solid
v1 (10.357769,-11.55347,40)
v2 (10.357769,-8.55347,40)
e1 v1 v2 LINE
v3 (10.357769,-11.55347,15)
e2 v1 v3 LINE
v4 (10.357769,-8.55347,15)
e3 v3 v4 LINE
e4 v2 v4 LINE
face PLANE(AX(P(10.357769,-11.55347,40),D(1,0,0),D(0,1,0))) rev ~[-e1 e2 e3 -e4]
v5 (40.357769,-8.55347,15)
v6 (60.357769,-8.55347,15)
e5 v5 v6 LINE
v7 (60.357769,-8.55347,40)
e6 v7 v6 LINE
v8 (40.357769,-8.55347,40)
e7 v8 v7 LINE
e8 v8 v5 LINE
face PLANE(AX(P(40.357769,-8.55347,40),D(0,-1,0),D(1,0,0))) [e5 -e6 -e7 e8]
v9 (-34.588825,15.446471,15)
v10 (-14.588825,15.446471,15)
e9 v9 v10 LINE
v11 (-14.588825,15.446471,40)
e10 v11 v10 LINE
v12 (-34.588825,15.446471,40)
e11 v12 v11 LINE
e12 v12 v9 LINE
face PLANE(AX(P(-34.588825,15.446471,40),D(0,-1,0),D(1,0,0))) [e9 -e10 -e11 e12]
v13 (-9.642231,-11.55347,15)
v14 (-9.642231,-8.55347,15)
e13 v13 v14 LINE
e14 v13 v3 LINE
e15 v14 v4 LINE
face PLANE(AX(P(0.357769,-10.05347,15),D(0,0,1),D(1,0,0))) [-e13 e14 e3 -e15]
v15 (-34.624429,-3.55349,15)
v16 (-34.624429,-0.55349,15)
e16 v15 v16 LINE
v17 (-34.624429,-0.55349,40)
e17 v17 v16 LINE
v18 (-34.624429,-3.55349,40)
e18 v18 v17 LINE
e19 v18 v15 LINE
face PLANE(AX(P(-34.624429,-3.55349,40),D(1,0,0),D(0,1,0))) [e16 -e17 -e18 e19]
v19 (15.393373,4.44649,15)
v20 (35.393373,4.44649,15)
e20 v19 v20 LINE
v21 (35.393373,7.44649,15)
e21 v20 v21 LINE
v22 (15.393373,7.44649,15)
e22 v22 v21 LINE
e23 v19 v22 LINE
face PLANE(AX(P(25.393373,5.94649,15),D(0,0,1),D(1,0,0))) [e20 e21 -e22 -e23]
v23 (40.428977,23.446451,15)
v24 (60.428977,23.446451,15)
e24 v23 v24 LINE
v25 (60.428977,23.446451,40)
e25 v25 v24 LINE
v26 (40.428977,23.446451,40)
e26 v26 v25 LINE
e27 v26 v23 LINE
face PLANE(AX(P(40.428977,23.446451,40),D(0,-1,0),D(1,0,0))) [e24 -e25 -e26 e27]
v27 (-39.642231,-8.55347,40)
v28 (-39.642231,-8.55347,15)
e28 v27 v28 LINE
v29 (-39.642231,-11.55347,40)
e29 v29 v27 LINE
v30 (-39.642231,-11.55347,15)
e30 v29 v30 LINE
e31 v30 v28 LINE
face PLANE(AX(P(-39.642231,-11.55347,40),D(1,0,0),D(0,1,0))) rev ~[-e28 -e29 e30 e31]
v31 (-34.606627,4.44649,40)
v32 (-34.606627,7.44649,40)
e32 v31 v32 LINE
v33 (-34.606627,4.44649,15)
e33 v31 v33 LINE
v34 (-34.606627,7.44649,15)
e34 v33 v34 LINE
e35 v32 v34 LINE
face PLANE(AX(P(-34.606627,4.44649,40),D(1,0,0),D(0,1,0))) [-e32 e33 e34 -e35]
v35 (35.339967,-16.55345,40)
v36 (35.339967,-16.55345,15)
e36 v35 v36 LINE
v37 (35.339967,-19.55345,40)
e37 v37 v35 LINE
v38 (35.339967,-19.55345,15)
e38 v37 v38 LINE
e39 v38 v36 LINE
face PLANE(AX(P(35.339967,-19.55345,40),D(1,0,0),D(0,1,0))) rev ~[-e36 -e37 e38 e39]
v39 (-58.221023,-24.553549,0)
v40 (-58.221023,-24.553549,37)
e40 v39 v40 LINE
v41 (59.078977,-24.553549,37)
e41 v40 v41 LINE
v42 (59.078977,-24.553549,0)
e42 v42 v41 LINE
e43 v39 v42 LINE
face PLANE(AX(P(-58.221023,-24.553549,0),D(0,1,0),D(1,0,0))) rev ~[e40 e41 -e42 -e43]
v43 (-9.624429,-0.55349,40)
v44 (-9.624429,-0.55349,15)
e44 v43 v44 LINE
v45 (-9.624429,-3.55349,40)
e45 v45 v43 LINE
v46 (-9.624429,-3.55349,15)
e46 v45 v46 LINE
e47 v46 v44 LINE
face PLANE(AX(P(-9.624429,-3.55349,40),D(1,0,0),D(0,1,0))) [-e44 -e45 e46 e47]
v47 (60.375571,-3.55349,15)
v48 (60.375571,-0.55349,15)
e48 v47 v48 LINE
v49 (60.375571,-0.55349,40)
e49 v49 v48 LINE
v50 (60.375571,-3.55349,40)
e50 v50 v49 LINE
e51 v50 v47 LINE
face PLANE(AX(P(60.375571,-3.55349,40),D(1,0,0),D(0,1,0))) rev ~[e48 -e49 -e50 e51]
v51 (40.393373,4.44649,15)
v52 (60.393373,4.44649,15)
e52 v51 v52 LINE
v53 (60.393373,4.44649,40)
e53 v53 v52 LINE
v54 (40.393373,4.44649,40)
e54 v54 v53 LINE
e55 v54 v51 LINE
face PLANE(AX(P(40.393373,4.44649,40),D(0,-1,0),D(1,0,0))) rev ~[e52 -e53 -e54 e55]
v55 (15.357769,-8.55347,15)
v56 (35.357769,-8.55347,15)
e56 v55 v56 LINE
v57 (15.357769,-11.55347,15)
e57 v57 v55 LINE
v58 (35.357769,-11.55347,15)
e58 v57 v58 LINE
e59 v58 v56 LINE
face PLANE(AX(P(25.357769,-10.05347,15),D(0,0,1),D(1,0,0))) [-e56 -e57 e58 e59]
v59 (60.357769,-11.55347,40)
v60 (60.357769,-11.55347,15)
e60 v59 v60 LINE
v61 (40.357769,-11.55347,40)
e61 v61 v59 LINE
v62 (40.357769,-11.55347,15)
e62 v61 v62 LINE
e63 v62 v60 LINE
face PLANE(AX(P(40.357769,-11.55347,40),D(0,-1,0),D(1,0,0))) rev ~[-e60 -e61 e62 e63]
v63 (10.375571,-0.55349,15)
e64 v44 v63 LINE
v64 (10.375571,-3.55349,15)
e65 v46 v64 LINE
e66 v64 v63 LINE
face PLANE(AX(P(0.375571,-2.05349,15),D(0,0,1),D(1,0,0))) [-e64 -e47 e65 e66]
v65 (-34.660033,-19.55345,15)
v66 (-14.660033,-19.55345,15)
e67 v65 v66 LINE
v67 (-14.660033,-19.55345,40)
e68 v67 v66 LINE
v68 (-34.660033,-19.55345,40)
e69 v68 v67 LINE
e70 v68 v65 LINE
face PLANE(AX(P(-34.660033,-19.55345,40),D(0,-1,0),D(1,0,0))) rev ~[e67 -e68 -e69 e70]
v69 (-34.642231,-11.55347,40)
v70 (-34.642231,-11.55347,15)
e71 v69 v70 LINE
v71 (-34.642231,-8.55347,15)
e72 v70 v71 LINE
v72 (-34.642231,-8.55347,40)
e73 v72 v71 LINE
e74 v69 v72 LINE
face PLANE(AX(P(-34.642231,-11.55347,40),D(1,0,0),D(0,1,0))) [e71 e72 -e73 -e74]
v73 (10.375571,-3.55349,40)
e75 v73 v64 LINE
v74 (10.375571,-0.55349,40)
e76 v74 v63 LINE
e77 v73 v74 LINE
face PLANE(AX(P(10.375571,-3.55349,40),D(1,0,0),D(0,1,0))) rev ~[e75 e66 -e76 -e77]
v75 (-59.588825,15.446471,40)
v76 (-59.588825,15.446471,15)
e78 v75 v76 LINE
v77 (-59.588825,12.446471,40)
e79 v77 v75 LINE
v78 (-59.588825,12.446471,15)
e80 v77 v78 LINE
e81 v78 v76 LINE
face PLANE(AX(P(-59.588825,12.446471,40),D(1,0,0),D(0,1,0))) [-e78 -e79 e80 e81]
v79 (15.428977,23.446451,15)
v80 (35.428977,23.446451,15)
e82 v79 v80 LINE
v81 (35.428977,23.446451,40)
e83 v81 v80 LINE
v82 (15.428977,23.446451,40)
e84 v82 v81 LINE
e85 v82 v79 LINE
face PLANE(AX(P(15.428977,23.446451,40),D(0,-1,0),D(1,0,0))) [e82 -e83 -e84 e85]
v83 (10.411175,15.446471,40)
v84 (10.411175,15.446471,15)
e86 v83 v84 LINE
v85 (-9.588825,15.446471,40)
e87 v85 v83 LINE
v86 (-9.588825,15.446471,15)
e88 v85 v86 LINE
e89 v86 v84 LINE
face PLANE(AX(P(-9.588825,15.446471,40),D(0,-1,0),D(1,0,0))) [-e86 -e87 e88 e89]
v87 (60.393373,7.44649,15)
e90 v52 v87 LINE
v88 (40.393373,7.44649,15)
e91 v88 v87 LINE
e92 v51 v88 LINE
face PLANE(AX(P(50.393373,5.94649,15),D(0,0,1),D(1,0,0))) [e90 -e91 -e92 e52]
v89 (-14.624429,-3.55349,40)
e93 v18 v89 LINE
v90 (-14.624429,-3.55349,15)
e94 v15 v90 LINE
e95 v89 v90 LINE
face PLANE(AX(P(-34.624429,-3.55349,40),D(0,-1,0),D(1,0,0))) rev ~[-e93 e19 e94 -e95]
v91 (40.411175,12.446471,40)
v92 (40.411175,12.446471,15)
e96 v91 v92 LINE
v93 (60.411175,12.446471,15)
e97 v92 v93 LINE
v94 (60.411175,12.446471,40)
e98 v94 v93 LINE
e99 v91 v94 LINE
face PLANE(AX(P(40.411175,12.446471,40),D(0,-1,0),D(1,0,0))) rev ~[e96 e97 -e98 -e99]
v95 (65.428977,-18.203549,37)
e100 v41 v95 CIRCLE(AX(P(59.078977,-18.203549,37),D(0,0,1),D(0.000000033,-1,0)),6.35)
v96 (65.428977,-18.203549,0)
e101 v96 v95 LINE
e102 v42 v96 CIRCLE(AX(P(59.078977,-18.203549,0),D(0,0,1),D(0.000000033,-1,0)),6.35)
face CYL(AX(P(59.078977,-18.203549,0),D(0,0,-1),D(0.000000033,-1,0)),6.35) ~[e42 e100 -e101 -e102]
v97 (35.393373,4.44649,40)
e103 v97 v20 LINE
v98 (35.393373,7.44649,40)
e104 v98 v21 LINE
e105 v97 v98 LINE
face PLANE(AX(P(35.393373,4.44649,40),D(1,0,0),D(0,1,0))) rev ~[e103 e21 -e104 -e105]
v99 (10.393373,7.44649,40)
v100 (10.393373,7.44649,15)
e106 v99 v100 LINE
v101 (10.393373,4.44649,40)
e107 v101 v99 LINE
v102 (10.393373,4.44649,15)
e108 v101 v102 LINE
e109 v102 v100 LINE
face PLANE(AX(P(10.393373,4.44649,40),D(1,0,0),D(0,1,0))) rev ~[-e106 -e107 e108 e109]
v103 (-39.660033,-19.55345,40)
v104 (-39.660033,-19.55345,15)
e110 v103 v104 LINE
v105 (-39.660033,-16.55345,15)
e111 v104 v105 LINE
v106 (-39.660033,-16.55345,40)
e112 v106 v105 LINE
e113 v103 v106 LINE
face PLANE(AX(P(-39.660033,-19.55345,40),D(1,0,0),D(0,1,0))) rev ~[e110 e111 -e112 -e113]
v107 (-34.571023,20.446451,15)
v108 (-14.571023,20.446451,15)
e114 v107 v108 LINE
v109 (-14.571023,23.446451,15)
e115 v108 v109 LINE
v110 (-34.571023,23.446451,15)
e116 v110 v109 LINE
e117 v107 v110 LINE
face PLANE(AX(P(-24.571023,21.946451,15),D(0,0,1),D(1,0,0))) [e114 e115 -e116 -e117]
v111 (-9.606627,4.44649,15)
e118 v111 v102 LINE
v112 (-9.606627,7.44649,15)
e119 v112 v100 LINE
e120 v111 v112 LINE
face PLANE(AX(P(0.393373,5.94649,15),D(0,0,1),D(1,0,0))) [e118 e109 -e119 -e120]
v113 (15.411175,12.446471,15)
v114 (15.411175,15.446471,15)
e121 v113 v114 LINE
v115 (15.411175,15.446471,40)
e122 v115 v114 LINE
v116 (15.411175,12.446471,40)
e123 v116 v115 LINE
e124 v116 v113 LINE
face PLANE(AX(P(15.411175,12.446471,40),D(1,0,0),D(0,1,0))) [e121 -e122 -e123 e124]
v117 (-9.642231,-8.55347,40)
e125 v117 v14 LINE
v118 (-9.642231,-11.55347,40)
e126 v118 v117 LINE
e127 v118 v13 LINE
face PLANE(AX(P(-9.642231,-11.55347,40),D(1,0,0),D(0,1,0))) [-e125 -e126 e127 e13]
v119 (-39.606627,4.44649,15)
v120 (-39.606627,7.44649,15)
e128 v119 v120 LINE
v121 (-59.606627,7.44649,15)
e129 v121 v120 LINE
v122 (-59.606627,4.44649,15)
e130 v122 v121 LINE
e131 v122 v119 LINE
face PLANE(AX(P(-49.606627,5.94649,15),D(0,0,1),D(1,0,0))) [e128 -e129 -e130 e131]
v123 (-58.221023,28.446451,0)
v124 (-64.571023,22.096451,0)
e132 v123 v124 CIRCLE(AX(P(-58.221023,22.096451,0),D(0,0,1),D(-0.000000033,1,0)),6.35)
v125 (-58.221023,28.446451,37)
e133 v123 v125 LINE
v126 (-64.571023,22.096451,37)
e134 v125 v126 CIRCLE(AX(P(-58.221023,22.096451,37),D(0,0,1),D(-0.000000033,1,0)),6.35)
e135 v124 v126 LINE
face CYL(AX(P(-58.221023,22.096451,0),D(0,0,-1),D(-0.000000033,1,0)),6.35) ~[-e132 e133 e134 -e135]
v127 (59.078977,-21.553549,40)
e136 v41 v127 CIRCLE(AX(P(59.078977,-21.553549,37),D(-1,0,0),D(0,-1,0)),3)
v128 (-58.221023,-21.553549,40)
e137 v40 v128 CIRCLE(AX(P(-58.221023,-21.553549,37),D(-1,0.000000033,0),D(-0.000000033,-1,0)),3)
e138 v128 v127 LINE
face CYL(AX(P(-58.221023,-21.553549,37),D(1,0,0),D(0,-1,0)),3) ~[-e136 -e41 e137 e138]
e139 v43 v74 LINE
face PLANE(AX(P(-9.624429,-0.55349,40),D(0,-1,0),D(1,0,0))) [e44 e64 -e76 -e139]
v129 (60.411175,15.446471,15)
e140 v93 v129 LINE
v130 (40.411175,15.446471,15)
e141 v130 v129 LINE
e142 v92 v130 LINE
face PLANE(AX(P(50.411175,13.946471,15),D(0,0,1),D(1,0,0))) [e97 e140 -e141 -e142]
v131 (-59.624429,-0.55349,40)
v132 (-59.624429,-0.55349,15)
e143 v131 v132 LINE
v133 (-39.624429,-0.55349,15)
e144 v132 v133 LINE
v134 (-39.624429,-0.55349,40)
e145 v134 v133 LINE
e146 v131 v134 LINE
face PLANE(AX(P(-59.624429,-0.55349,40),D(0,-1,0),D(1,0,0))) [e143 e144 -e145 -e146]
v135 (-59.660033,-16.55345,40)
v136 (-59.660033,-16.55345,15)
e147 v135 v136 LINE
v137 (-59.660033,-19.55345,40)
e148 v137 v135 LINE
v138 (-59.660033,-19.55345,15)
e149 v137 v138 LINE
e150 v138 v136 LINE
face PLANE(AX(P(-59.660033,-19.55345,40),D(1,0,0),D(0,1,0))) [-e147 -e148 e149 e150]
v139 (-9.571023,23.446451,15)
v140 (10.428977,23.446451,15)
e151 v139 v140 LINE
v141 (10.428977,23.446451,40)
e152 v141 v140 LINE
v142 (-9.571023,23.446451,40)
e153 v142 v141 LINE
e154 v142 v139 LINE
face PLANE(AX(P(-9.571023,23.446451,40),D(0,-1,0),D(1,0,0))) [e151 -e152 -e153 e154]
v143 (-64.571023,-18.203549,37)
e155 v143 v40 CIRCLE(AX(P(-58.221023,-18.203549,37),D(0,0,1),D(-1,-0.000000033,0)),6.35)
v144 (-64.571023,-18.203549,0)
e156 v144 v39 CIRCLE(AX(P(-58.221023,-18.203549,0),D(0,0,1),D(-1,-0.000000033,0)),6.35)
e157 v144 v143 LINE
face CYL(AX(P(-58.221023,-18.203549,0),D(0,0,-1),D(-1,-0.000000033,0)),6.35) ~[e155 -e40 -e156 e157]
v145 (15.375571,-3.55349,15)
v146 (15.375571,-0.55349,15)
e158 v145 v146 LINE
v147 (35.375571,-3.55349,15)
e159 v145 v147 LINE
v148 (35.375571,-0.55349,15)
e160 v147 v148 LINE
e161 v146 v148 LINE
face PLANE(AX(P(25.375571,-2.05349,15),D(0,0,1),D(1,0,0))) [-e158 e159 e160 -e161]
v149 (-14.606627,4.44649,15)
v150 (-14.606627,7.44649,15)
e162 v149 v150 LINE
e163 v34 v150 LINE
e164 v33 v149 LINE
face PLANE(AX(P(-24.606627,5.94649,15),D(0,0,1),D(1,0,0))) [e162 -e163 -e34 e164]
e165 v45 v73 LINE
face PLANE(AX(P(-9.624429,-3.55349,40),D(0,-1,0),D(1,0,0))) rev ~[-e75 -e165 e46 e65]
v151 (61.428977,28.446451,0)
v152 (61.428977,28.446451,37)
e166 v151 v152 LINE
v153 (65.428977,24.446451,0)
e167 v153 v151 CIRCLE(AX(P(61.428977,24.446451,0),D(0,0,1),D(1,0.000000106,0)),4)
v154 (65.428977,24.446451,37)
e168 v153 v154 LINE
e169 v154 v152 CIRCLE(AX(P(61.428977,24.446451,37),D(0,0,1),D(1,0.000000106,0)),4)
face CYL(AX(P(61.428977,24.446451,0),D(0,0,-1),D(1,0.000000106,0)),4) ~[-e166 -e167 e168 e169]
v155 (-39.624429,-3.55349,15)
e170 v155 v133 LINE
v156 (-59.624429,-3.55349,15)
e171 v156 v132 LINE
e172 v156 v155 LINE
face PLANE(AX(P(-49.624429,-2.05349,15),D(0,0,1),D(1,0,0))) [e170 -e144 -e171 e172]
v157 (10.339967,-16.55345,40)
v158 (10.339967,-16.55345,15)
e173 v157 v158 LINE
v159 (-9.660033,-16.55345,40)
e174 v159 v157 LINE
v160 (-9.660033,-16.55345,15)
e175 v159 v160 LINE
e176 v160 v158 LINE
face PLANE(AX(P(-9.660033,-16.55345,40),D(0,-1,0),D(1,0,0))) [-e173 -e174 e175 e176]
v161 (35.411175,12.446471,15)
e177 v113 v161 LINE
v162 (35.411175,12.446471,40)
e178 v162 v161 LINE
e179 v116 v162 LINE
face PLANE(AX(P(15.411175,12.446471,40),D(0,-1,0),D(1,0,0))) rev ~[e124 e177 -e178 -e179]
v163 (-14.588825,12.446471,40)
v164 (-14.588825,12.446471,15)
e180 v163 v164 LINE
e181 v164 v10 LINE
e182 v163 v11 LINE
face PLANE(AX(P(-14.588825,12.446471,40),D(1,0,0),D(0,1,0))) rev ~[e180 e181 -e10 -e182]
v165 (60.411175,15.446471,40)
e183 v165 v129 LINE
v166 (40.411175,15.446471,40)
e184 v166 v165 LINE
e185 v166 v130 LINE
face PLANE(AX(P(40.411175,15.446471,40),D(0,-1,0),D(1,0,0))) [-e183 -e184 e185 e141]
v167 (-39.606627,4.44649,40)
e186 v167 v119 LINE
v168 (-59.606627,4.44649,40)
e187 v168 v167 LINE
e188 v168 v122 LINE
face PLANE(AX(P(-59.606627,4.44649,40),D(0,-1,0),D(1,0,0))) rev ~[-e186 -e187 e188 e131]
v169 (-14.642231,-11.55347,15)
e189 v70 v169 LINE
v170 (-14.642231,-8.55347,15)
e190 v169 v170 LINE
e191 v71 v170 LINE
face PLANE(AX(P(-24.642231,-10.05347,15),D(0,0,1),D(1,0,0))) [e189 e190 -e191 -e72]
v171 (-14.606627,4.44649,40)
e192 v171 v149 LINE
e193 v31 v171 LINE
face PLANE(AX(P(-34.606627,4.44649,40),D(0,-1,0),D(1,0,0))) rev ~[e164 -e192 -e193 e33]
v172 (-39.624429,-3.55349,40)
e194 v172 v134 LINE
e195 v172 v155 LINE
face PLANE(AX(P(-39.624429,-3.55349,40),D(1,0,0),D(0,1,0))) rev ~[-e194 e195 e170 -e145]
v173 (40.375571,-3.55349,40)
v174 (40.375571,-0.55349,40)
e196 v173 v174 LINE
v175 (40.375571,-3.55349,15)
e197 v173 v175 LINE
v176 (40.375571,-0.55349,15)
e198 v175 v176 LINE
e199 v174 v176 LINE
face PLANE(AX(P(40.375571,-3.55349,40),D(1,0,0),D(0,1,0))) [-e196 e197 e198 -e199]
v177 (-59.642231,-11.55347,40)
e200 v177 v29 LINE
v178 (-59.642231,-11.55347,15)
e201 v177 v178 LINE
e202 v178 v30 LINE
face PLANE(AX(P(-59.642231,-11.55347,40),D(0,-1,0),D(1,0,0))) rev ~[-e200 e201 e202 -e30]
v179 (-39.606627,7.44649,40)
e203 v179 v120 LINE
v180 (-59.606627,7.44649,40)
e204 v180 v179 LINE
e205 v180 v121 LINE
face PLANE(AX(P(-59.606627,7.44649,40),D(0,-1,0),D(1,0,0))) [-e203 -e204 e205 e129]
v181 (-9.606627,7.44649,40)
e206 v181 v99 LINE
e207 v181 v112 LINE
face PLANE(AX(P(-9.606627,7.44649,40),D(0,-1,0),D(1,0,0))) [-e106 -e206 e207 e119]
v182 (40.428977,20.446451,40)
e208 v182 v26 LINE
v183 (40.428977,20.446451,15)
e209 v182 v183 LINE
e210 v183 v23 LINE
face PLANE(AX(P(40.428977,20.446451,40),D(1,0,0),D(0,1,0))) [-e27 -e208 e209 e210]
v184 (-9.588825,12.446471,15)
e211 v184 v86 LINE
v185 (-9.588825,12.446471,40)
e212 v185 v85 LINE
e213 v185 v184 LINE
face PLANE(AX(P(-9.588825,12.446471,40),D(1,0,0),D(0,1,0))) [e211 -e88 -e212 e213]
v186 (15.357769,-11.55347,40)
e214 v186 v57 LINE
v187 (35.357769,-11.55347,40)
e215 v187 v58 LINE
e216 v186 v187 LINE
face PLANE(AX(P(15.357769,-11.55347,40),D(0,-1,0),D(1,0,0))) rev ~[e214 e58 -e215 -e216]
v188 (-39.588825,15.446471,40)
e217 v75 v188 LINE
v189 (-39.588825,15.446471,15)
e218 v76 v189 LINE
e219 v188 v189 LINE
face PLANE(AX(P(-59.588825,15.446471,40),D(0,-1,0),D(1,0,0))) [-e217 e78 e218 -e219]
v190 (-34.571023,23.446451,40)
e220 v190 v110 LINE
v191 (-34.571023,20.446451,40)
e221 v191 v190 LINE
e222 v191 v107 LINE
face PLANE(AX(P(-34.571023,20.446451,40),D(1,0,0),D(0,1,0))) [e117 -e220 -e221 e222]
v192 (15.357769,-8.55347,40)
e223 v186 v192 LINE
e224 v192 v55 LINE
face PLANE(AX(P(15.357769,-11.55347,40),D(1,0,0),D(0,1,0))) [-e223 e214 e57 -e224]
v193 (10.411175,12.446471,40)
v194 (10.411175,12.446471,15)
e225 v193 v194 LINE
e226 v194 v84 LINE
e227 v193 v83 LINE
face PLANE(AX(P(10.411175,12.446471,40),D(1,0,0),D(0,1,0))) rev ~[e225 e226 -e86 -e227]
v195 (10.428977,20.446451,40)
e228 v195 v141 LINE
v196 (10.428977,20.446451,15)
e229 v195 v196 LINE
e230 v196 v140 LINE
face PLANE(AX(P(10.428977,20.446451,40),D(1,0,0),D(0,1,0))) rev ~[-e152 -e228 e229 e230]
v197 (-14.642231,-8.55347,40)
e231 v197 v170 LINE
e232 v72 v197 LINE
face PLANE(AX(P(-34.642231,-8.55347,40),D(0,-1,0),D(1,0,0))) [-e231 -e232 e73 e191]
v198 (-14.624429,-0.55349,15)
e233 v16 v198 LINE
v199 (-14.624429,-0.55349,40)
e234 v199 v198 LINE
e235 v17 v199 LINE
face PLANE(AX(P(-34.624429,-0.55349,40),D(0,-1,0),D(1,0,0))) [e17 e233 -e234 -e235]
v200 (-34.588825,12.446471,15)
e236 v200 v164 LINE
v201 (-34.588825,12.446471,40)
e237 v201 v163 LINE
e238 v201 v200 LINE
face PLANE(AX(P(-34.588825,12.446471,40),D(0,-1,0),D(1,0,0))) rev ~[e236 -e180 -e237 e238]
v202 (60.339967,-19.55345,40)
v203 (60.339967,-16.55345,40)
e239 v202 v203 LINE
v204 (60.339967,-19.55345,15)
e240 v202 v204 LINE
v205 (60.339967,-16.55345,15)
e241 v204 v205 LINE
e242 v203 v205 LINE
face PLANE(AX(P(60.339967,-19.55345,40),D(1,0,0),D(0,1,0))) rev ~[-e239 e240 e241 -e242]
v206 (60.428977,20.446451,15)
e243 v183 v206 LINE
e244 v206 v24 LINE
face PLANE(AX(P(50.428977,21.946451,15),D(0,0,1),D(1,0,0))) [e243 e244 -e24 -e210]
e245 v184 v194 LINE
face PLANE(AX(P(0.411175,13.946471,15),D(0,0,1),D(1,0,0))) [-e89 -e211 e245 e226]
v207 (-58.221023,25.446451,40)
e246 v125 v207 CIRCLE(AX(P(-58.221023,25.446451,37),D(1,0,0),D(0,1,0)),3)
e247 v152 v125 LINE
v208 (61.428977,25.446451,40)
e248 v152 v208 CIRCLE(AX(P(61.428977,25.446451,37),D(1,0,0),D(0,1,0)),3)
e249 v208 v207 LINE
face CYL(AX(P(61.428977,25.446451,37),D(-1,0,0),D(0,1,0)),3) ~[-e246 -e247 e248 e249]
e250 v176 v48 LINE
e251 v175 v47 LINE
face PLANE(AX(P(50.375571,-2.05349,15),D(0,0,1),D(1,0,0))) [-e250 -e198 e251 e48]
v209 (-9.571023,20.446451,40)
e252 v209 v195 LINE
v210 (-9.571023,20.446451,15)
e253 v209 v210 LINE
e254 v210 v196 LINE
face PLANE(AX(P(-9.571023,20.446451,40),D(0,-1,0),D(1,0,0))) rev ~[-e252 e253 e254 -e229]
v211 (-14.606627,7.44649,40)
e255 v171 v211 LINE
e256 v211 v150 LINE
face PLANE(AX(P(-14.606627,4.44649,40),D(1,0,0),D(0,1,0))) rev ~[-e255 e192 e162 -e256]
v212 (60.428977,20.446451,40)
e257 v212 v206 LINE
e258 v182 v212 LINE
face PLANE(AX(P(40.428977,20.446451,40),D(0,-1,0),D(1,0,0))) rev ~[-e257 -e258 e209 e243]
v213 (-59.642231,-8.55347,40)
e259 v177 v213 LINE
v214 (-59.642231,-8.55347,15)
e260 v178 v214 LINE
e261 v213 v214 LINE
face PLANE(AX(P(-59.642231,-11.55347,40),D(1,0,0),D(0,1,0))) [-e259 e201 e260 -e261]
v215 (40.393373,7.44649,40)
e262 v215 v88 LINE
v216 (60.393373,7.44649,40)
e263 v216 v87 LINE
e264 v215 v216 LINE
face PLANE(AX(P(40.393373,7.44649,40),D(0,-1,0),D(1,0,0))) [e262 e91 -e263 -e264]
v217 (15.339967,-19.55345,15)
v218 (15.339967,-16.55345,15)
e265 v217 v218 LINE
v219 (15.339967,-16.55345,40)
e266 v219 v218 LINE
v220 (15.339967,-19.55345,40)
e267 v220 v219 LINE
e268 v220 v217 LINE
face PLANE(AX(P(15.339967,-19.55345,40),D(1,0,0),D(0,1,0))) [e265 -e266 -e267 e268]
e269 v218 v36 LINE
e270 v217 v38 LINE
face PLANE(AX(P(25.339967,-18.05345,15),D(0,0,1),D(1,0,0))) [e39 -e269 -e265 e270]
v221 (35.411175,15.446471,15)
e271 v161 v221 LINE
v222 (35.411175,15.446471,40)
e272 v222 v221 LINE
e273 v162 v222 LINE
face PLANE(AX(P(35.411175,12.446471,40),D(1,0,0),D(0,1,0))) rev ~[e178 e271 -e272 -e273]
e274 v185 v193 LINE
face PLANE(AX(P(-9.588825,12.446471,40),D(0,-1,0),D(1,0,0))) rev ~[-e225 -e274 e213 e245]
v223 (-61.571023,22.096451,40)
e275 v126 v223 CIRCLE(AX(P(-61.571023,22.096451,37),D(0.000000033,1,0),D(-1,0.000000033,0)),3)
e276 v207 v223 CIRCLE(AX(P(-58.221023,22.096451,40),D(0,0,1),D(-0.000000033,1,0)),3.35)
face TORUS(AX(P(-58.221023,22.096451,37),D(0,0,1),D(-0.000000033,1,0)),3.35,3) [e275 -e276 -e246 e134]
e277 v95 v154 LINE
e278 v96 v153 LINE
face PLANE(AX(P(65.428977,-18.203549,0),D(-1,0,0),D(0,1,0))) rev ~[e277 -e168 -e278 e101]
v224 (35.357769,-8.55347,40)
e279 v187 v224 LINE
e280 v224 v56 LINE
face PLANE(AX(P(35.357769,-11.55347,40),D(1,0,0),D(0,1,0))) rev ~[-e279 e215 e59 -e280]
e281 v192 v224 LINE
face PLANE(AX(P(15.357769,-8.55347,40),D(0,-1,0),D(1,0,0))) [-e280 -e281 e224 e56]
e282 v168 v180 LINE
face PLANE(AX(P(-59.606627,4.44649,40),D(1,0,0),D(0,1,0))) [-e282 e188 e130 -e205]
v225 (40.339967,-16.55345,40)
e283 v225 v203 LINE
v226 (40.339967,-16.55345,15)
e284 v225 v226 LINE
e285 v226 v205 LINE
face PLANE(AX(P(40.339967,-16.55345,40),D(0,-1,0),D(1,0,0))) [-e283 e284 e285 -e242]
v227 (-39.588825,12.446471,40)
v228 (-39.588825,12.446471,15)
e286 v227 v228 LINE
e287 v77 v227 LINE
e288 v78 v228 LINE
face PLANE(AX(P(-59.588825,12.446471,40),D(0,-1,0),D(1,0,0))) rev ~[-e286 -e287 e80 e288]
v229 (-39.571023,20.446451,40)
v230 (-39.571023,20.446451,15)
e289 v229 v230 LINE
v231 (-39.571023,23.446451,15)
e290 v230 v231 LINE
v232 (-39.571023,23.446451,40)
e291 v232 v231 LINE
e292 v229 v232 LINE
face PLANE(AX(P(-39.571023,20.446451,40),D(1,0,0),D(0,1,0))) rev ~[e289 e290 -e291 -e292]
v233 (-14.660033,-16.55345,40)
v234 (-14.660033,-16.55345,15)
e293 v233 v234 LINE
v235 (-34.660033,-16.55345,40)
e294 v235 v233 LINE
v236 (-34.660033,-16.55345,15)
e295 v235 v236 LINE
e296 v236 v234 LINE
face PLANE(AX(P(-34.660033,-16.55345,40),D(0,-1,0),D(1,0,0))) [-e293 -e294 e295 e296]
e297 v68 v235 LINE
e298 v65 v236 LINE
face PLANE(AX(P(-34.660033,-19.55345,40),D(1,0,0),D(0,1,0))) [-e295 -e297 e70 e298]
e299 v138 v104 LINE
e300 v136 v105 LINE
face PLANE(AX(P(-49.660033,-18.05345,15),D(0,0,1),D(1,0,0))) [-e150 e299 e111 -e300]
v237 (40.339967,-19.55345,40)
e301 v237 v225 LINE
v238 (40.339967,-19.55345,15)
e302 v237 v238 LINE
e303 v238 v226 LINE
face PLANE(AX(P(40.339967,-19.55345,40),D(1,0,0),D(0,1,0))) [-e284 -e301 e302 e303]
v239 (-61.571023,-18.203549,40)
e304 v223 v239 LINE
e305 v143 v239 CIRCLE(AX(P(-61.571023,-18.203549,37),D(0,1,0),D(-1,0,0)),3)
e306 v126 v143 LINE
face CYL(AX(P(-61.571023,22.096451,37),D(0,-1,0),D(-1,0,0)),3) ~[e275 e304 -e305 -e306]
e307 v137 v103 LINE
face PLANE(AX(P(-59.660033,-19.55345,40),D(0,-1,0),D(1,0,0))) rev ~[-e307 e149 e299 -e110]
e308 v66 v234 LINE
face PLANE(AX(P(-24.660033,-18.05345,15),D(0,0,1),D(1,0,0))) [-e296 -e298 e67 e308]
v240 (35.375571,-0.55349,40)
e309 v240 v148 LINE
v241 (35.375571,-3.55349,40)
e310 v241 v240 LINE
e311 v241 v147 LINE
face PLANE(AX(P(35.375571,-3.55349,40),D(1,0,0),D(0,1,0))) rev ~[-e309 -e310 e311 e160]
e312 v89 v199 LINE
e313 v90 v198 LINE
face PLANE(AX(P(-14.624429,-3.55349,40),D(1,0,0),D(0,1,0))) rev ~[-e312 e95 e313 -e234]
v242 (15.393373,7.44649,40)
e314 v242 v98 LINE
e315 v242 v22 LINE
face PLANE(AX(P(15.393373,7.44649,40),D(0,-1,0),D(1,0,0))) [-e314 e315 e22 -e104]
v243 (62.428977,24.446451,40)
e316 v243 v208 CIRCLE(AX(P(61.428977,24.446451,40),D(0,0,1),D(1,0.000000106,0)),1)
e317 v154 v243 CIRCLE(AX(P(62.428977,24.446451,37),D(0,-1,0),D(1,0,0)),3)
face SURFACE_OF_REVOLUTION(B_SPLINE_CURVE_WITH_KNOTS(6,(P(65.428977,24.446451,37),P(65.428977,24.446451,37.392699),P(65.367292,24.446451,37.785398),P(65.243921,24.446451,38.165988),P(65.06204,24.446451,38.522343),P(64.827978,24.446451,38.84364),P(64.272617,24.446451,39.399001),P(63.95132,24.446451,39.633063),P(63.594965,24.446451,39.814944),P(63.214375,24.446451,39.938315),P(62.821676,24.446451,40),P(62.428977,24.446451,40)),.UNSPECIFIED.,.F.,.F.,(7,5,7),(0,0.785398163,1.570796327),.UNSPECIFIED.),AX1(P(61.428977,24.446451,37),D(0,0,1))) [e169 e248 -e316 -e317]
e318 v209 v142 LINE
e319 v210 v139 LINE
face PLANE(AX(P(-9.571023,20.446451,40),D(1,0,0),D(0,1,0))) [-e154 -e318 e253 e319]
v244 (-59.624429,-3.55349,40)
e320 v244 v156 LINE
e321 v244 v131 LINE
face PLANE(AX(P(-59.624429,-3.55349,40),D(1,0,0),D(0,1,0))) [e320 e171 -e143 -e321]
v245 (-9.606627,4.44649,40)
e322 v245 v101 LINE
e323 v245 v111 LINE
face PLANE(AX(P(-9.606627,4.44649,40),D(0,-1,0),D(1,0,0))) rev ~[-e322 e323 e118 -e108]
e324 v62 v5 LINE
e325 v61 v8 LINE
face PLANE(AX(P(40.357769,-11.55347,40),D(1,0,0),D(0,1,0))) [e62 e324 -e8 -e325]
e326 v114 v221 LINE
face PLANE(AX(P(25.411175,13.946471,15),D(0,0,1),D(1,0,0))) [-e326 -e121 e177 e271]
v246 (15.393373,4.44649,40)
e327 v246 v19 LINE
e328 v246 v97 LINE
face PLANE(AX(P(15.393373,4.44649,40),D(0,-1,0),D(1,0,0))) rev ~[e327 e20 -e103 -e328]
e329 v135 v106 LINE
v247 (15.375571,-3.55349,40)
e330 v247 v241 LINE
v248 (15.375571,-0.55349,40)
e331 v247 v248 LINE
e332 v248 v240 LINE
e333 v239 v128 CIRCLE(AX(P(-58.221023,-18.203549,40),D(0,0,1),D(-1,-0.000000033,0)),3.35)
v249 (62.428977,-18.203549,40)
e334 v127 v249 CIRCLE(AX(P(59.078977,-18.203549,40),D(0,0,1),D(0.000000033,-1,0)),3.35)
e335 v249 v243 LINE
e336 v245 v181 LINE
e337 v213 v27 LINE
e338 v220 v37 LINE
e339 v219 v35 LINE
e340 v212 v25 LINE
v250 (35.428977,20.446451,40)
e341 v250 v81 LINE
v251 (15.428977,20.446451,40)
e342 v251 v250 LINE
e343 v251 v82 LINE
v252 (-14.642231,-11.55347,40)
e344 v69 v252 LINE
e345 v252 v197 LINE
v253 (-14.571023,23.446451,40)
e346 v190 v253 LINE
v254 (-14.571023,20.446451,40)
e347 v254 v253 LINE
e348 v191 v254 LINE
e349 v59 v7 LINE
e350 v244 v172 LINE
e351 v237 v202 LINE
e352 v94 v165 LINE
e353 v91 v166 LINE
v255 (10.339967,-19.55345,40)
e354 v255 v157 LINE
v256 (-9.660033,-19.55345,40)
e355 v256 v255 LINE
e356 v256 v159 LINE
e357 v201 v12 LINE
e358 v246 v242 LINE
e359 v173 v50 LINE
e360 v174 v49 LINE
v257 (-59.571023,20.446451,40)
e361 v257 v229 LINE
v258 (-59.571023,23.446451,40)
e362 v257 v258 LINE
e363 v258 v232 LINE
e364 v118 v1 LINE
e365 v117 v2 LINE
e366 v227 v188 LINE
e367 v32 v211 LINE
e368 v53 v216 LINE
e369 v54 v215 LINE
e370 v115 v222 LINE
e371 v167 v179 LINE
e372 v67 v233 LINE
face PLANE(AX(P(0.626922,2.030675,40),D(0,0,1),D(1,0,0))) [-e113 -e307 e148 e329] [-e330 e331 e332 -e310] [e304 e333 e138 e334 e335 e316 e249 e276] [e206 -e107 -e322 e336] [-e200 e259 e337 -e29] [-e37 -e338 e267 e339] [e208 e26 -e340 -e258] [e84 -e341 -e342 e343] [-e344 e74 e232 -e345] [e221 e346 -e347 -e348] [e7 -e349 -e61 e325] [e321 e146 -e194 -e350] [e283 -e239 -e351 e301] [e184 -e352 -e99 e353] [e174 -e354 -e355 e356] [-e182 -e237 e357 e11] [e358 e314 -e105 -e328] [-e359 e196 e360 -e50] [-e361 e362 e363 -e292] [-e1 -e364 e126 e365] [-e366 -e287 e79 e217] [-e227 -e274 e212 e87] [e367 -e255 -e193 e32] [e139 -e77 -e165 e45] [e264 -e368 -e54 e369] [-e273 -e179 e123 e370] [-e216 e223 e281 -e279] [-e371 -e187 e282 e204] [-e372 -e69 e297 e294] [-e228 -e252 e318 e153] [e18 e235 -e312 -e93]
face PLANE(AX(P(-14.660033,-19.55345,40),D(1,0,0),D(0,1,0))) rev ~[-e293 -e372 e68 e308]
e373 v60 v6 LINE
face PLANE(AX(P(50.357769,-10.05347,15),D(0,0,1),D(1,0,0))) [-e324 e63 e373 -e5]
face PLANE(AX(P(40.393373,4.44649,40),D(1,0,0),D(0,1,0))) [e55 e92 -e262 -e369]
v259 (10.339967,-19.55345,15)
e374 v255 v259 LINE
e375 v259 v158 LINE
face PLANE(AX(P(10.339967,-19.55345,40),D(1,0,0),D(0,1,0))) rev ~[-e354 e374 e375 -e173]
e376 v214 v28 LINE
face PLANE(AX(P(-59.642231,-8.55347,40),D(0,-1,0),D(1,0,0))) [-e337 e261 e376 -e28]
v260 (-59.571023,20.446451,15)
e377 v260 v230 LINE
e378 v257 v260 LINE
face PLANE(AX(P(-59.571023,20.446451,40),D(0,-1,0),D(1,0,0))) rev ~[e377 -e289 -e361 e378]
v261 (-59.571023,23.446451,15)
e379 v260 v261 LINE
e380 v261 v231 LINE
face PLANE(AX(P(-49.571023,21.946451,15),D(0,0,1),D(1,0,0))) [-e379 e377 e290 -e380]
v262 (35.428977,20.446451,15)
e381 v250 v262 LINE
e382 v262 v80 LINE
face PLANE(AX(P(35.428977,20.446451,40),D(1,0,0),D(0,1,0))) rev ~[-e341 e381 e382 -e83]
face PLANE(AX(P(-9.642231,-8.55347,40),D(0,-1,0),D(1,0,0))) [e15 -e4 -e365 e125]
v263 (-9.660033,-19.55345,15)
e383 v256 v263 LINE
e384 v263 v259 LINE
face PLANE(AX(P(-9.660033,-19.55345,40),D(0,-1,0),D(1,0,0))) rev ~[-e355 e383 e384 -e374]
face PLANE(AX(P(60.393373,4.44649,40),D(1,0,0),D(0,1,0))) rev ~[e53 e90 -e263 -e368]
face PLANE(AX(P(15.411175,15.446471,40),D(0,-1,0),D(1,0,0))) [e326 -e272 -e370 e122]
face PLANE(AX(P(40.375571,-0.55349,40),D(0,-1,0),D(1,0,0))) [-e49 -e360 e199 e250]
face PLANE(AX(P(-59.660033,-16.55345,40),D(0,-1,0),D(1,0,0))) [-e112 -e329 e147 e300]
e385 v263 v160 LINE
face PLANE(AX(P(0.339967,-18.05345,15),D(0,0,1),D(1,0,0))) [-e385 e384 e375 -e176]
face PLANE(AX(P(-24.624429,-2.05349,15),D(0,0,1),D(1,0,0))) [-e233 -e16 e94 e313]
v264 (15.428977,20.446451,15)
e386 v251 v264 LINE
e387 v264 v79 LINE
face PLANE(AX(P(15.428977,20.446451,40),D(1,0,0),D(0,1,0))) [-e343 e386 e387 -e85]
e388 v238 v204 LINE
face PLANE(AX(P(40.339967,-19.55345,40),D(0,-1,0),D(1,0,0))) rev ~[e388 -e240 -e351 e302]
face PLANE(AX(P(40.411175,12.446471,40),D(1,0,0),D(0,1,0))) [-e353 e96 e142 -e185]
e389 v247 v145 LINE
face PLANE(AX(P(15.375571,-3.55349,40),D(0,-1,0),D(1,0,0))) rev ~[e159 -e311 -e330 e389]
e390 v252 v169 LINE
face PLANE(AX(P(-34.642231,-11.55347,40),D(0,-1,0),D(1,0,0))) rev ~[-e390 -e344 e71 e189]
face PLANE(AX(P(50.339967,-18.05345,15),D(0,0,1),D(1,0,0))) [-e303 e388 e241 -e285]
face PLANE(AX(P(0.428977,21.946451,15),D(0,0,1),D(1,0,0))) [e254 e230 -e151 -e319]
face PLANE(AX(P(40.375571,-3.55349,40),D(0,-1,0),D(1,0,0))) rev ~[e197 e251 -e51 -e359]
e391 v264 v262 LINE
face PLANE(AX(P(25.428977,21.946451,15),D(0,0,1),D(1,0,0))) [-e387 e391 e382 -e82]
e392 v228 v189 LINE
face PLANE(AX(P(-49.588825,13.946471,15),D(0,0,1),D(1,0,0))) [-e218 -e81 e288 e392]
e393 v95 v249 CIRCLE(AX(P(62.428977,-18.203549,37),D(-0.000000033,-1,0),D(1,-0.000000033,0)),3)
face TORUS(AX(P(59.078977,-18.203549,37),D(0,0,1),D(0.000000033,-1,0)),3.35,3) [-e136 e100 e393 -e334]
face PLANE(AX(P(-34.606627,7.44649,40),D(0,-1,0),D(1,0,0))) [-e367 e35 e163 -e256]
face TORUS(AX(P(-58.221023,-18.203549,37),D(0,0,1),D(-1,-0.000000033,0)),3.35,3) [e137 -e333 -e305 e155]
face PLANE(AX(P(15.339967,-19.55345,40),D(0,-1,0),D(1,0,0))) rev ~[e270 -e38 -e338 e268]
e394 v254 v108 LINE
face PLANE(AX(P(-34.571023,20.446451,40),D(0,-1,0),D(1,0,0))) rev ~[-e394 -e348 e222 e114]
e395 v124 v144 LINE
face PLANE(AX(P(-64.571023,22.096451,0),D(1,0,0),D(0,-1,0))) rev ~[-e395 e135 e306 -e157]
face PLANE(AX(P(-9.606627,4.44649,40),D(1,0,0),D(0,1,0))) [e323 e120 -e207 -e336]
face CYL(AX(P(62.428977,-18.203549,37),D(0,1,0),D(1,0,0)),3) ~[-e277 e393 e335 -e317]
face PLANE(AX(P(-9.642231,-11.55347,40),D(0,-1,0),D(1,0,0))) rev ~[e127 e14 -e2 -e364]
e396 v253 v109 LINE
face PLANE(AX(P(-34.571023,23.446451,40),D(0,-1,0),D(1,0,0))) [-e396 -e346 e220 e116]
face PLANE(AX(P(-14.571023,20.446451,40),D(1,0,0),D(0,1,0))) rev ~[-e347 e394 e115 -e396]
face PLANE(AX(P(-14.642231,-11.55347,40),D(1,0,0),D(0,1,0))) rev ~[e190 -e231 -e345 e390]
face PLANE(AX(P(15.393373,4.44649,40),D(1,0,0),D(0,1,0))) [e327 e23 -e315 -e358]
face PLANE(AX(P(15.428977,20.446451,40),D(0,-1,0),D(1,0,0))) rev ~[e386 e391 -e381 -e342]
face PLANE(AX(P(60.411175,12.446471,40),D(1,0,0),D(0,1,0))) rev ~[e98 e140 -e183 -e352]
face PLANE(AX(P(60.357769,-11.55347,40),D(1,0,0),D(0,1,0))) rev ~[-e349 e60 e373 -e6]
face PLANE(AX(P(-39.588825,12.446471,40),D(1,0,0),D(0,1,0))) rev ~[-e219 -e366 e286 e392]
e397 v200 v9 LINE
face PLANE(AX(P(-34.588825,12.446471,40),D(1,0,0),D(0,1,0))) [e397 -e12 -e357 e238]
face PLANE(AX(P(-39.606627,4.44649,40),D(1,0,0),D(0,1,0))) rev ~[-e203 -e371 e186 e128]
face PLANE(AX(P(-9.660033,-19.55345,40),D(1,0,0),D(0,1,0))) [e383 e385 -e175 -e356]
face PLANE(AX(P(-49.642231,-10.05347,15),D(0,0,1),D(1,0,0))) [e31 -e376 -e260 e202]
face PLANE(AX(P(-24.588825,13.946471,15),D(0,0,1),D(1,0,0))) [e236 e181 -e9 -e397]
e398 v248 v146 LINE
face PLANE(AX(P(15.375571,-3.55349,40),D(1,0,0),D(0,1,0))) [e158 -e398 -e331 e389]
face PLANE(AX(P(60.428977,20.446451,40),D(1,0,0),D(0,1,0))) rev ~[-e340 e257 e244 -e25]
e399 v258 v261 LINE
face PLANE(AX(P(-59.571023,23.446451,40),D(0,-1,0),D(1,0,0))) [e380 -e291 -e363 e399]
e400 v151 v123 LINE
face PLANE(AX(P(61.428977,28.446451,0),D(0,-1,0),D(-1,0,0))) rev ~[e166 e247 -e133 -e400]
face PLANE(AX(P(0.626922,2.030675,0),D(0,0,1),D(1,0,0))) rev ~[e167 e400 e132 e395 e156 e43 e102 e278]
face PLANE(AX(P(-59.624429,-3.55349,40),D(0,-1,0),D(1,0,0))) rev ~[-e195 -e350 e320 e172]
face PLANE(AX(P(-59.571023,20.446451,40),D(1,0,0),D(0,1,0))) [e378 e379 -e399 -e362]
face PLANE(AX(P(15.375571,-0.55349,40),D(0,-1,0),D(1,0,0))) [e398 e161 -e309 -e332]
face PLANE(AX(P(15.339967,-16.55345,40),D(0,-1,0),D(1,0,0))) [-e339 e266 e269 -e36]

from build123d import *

# Parameters (mm, degrees)
F1_DEPTH = 40
F2_W     = 20
F2_H     = 3
F3_DEPTH = 25
F4_R     = 3


with BuildPart() as f1:
    # F0 (on Top) → F1 (new body)
    with BuildSketch(Plane.XY):
        with BuildLine():
            Line((61.428977, 28.446451), (-58.221023, 28.446451))
            ThreePointArc((-58.221023, 28.446451), (-62.711151, 26.586579), (-64.571023, 22.096451))
            Line((-64.571023, 22.096451), (-64.571023, -18.203549))
            ThreePointArc((-64.571023, -18.203549), (-62.711151, -22.693677), (-58.221023, -24.553549))
            Line((-58.221023, -24.553549), (59.078977, -24.553549))
            ThreePointArc((59.078977, -24.553549), (63.569105, -22.693677), (65.428977, -18.203549))
            Line((65.428977, -18.203549), (65.428977, 24.446451))
            ThreePointArc((65.428977, 24.446451), (64.257404, 27.274878), (61.428977, 28.446451))
        make_face()
    extrude(amount=F1_DEPTH)

    # F2 (on face) → F3 (cut)
    with BuildSketch(Plane.XY.offset(40)):
        with Locations((-49.571023, 21.946451)):
            Rectangle(F2_W, F2_H)
        with Locations((-49.588825, 13.946471)):
            Rectangle(F2_W, F2_H)
        with Locations((-49.606627, 5.94649)):
            Rectangle(F2_W, F2_H)
        with Locations((-49.624429, -2.05349)):
            Rectangle(F2_W, F2_H)
        with Locations((-49.642231, -10.05347)):
            Rectangle(F2_W, F2_H)
        with Locations((-49.660033, -18.05345)):
            Rectangle(F2_W, F2_H)
        with Locations((-24.571023, 21.946451)):
            Rectangle(F2_W, F2_H)
        with Locations((-24.588825, 13.946471)):
            Rectangle(F2_W, F2_H)
        with Locations((-24.606627, 5.94649)):
            Rectangle(F2_W, F2_H)
        with Locations((-24.624429, -2.05349)):
            Rectangle(F2_W, F2_H)
        with Locations((-24.642231, -10.05347)):
            Rectangle(F2_W, F2_H)
        with Locations((-24.660033, -18.05345)):
            Rectangle(F2_W, F2_H)
        with Locations((0.428977, 21.946451)):
            Rectangle(F2_W, F2_H)
        with Locations((0.411175, 13.946471)):
            Rectangle(F2_W, F2_H)
        with Locations((0.393373, 5.94649)):
            Rectangle(F2_W, F2_H)
        with Locations((0.375571, -2.05349)):
            Rectangle(F2_W, F2_H)
        with Locations((0.357769, -10.05347)):
            Rectangle(F2_W, F2_H)
        with Locations((0.339967, -18.05345)):
            Rectangle(F2_W, F2_H)
        with Locations((25.428977, 21.946451)):
            Rectangle(F2_W, F2_H)
        with Locations((25.411175, 13.946471)):
            Rectangle(F2_W, F2_H)
        with Locations((25.393373, 5.94649)):
            Rectangle(F2_W, F2_H)
        with Locations((25.375571, -2.05349)):
            Rectangle(F2_W, F2_H)
        with Locations((25.357769, -10.05347)):
            Rectangle(F2_W, F2_H)
        with Locations((25.339967, -18.05345)):
            Rectangle(F2_W, F2_H)
        with Locations((50.428977, 21.946451)):
            Rectangle(F2_W, F2_H)
        with Locations((50.411175, 13.946471)):
            Rectangle(F2_W, F2_H)
        with Locations((50.393373, 5.94649)):
            Rectangle(F2_W, F2_H)
        with Locations((50.375571, -2.05349)):
            Rectangle(F2_W, F2_H)
        with Locations((50.357769, -10.05347)):
            Rectangle(F2_W, F2_H)
        with Locations((50.339967, -18.05345)):
            Rectangle(F2_W, F2_H)
    extrude(amount=-F3_DEPTH, mode=Mode.SUBTRACT)

    # F4
    f4_edges = [f1.edges().sort_by_distance(p)[0] for p in [
        (1.603977, 28.446451, 40),
    ]]
    fillet(f4_edges, radius=F4_R)


solid = f1.part
